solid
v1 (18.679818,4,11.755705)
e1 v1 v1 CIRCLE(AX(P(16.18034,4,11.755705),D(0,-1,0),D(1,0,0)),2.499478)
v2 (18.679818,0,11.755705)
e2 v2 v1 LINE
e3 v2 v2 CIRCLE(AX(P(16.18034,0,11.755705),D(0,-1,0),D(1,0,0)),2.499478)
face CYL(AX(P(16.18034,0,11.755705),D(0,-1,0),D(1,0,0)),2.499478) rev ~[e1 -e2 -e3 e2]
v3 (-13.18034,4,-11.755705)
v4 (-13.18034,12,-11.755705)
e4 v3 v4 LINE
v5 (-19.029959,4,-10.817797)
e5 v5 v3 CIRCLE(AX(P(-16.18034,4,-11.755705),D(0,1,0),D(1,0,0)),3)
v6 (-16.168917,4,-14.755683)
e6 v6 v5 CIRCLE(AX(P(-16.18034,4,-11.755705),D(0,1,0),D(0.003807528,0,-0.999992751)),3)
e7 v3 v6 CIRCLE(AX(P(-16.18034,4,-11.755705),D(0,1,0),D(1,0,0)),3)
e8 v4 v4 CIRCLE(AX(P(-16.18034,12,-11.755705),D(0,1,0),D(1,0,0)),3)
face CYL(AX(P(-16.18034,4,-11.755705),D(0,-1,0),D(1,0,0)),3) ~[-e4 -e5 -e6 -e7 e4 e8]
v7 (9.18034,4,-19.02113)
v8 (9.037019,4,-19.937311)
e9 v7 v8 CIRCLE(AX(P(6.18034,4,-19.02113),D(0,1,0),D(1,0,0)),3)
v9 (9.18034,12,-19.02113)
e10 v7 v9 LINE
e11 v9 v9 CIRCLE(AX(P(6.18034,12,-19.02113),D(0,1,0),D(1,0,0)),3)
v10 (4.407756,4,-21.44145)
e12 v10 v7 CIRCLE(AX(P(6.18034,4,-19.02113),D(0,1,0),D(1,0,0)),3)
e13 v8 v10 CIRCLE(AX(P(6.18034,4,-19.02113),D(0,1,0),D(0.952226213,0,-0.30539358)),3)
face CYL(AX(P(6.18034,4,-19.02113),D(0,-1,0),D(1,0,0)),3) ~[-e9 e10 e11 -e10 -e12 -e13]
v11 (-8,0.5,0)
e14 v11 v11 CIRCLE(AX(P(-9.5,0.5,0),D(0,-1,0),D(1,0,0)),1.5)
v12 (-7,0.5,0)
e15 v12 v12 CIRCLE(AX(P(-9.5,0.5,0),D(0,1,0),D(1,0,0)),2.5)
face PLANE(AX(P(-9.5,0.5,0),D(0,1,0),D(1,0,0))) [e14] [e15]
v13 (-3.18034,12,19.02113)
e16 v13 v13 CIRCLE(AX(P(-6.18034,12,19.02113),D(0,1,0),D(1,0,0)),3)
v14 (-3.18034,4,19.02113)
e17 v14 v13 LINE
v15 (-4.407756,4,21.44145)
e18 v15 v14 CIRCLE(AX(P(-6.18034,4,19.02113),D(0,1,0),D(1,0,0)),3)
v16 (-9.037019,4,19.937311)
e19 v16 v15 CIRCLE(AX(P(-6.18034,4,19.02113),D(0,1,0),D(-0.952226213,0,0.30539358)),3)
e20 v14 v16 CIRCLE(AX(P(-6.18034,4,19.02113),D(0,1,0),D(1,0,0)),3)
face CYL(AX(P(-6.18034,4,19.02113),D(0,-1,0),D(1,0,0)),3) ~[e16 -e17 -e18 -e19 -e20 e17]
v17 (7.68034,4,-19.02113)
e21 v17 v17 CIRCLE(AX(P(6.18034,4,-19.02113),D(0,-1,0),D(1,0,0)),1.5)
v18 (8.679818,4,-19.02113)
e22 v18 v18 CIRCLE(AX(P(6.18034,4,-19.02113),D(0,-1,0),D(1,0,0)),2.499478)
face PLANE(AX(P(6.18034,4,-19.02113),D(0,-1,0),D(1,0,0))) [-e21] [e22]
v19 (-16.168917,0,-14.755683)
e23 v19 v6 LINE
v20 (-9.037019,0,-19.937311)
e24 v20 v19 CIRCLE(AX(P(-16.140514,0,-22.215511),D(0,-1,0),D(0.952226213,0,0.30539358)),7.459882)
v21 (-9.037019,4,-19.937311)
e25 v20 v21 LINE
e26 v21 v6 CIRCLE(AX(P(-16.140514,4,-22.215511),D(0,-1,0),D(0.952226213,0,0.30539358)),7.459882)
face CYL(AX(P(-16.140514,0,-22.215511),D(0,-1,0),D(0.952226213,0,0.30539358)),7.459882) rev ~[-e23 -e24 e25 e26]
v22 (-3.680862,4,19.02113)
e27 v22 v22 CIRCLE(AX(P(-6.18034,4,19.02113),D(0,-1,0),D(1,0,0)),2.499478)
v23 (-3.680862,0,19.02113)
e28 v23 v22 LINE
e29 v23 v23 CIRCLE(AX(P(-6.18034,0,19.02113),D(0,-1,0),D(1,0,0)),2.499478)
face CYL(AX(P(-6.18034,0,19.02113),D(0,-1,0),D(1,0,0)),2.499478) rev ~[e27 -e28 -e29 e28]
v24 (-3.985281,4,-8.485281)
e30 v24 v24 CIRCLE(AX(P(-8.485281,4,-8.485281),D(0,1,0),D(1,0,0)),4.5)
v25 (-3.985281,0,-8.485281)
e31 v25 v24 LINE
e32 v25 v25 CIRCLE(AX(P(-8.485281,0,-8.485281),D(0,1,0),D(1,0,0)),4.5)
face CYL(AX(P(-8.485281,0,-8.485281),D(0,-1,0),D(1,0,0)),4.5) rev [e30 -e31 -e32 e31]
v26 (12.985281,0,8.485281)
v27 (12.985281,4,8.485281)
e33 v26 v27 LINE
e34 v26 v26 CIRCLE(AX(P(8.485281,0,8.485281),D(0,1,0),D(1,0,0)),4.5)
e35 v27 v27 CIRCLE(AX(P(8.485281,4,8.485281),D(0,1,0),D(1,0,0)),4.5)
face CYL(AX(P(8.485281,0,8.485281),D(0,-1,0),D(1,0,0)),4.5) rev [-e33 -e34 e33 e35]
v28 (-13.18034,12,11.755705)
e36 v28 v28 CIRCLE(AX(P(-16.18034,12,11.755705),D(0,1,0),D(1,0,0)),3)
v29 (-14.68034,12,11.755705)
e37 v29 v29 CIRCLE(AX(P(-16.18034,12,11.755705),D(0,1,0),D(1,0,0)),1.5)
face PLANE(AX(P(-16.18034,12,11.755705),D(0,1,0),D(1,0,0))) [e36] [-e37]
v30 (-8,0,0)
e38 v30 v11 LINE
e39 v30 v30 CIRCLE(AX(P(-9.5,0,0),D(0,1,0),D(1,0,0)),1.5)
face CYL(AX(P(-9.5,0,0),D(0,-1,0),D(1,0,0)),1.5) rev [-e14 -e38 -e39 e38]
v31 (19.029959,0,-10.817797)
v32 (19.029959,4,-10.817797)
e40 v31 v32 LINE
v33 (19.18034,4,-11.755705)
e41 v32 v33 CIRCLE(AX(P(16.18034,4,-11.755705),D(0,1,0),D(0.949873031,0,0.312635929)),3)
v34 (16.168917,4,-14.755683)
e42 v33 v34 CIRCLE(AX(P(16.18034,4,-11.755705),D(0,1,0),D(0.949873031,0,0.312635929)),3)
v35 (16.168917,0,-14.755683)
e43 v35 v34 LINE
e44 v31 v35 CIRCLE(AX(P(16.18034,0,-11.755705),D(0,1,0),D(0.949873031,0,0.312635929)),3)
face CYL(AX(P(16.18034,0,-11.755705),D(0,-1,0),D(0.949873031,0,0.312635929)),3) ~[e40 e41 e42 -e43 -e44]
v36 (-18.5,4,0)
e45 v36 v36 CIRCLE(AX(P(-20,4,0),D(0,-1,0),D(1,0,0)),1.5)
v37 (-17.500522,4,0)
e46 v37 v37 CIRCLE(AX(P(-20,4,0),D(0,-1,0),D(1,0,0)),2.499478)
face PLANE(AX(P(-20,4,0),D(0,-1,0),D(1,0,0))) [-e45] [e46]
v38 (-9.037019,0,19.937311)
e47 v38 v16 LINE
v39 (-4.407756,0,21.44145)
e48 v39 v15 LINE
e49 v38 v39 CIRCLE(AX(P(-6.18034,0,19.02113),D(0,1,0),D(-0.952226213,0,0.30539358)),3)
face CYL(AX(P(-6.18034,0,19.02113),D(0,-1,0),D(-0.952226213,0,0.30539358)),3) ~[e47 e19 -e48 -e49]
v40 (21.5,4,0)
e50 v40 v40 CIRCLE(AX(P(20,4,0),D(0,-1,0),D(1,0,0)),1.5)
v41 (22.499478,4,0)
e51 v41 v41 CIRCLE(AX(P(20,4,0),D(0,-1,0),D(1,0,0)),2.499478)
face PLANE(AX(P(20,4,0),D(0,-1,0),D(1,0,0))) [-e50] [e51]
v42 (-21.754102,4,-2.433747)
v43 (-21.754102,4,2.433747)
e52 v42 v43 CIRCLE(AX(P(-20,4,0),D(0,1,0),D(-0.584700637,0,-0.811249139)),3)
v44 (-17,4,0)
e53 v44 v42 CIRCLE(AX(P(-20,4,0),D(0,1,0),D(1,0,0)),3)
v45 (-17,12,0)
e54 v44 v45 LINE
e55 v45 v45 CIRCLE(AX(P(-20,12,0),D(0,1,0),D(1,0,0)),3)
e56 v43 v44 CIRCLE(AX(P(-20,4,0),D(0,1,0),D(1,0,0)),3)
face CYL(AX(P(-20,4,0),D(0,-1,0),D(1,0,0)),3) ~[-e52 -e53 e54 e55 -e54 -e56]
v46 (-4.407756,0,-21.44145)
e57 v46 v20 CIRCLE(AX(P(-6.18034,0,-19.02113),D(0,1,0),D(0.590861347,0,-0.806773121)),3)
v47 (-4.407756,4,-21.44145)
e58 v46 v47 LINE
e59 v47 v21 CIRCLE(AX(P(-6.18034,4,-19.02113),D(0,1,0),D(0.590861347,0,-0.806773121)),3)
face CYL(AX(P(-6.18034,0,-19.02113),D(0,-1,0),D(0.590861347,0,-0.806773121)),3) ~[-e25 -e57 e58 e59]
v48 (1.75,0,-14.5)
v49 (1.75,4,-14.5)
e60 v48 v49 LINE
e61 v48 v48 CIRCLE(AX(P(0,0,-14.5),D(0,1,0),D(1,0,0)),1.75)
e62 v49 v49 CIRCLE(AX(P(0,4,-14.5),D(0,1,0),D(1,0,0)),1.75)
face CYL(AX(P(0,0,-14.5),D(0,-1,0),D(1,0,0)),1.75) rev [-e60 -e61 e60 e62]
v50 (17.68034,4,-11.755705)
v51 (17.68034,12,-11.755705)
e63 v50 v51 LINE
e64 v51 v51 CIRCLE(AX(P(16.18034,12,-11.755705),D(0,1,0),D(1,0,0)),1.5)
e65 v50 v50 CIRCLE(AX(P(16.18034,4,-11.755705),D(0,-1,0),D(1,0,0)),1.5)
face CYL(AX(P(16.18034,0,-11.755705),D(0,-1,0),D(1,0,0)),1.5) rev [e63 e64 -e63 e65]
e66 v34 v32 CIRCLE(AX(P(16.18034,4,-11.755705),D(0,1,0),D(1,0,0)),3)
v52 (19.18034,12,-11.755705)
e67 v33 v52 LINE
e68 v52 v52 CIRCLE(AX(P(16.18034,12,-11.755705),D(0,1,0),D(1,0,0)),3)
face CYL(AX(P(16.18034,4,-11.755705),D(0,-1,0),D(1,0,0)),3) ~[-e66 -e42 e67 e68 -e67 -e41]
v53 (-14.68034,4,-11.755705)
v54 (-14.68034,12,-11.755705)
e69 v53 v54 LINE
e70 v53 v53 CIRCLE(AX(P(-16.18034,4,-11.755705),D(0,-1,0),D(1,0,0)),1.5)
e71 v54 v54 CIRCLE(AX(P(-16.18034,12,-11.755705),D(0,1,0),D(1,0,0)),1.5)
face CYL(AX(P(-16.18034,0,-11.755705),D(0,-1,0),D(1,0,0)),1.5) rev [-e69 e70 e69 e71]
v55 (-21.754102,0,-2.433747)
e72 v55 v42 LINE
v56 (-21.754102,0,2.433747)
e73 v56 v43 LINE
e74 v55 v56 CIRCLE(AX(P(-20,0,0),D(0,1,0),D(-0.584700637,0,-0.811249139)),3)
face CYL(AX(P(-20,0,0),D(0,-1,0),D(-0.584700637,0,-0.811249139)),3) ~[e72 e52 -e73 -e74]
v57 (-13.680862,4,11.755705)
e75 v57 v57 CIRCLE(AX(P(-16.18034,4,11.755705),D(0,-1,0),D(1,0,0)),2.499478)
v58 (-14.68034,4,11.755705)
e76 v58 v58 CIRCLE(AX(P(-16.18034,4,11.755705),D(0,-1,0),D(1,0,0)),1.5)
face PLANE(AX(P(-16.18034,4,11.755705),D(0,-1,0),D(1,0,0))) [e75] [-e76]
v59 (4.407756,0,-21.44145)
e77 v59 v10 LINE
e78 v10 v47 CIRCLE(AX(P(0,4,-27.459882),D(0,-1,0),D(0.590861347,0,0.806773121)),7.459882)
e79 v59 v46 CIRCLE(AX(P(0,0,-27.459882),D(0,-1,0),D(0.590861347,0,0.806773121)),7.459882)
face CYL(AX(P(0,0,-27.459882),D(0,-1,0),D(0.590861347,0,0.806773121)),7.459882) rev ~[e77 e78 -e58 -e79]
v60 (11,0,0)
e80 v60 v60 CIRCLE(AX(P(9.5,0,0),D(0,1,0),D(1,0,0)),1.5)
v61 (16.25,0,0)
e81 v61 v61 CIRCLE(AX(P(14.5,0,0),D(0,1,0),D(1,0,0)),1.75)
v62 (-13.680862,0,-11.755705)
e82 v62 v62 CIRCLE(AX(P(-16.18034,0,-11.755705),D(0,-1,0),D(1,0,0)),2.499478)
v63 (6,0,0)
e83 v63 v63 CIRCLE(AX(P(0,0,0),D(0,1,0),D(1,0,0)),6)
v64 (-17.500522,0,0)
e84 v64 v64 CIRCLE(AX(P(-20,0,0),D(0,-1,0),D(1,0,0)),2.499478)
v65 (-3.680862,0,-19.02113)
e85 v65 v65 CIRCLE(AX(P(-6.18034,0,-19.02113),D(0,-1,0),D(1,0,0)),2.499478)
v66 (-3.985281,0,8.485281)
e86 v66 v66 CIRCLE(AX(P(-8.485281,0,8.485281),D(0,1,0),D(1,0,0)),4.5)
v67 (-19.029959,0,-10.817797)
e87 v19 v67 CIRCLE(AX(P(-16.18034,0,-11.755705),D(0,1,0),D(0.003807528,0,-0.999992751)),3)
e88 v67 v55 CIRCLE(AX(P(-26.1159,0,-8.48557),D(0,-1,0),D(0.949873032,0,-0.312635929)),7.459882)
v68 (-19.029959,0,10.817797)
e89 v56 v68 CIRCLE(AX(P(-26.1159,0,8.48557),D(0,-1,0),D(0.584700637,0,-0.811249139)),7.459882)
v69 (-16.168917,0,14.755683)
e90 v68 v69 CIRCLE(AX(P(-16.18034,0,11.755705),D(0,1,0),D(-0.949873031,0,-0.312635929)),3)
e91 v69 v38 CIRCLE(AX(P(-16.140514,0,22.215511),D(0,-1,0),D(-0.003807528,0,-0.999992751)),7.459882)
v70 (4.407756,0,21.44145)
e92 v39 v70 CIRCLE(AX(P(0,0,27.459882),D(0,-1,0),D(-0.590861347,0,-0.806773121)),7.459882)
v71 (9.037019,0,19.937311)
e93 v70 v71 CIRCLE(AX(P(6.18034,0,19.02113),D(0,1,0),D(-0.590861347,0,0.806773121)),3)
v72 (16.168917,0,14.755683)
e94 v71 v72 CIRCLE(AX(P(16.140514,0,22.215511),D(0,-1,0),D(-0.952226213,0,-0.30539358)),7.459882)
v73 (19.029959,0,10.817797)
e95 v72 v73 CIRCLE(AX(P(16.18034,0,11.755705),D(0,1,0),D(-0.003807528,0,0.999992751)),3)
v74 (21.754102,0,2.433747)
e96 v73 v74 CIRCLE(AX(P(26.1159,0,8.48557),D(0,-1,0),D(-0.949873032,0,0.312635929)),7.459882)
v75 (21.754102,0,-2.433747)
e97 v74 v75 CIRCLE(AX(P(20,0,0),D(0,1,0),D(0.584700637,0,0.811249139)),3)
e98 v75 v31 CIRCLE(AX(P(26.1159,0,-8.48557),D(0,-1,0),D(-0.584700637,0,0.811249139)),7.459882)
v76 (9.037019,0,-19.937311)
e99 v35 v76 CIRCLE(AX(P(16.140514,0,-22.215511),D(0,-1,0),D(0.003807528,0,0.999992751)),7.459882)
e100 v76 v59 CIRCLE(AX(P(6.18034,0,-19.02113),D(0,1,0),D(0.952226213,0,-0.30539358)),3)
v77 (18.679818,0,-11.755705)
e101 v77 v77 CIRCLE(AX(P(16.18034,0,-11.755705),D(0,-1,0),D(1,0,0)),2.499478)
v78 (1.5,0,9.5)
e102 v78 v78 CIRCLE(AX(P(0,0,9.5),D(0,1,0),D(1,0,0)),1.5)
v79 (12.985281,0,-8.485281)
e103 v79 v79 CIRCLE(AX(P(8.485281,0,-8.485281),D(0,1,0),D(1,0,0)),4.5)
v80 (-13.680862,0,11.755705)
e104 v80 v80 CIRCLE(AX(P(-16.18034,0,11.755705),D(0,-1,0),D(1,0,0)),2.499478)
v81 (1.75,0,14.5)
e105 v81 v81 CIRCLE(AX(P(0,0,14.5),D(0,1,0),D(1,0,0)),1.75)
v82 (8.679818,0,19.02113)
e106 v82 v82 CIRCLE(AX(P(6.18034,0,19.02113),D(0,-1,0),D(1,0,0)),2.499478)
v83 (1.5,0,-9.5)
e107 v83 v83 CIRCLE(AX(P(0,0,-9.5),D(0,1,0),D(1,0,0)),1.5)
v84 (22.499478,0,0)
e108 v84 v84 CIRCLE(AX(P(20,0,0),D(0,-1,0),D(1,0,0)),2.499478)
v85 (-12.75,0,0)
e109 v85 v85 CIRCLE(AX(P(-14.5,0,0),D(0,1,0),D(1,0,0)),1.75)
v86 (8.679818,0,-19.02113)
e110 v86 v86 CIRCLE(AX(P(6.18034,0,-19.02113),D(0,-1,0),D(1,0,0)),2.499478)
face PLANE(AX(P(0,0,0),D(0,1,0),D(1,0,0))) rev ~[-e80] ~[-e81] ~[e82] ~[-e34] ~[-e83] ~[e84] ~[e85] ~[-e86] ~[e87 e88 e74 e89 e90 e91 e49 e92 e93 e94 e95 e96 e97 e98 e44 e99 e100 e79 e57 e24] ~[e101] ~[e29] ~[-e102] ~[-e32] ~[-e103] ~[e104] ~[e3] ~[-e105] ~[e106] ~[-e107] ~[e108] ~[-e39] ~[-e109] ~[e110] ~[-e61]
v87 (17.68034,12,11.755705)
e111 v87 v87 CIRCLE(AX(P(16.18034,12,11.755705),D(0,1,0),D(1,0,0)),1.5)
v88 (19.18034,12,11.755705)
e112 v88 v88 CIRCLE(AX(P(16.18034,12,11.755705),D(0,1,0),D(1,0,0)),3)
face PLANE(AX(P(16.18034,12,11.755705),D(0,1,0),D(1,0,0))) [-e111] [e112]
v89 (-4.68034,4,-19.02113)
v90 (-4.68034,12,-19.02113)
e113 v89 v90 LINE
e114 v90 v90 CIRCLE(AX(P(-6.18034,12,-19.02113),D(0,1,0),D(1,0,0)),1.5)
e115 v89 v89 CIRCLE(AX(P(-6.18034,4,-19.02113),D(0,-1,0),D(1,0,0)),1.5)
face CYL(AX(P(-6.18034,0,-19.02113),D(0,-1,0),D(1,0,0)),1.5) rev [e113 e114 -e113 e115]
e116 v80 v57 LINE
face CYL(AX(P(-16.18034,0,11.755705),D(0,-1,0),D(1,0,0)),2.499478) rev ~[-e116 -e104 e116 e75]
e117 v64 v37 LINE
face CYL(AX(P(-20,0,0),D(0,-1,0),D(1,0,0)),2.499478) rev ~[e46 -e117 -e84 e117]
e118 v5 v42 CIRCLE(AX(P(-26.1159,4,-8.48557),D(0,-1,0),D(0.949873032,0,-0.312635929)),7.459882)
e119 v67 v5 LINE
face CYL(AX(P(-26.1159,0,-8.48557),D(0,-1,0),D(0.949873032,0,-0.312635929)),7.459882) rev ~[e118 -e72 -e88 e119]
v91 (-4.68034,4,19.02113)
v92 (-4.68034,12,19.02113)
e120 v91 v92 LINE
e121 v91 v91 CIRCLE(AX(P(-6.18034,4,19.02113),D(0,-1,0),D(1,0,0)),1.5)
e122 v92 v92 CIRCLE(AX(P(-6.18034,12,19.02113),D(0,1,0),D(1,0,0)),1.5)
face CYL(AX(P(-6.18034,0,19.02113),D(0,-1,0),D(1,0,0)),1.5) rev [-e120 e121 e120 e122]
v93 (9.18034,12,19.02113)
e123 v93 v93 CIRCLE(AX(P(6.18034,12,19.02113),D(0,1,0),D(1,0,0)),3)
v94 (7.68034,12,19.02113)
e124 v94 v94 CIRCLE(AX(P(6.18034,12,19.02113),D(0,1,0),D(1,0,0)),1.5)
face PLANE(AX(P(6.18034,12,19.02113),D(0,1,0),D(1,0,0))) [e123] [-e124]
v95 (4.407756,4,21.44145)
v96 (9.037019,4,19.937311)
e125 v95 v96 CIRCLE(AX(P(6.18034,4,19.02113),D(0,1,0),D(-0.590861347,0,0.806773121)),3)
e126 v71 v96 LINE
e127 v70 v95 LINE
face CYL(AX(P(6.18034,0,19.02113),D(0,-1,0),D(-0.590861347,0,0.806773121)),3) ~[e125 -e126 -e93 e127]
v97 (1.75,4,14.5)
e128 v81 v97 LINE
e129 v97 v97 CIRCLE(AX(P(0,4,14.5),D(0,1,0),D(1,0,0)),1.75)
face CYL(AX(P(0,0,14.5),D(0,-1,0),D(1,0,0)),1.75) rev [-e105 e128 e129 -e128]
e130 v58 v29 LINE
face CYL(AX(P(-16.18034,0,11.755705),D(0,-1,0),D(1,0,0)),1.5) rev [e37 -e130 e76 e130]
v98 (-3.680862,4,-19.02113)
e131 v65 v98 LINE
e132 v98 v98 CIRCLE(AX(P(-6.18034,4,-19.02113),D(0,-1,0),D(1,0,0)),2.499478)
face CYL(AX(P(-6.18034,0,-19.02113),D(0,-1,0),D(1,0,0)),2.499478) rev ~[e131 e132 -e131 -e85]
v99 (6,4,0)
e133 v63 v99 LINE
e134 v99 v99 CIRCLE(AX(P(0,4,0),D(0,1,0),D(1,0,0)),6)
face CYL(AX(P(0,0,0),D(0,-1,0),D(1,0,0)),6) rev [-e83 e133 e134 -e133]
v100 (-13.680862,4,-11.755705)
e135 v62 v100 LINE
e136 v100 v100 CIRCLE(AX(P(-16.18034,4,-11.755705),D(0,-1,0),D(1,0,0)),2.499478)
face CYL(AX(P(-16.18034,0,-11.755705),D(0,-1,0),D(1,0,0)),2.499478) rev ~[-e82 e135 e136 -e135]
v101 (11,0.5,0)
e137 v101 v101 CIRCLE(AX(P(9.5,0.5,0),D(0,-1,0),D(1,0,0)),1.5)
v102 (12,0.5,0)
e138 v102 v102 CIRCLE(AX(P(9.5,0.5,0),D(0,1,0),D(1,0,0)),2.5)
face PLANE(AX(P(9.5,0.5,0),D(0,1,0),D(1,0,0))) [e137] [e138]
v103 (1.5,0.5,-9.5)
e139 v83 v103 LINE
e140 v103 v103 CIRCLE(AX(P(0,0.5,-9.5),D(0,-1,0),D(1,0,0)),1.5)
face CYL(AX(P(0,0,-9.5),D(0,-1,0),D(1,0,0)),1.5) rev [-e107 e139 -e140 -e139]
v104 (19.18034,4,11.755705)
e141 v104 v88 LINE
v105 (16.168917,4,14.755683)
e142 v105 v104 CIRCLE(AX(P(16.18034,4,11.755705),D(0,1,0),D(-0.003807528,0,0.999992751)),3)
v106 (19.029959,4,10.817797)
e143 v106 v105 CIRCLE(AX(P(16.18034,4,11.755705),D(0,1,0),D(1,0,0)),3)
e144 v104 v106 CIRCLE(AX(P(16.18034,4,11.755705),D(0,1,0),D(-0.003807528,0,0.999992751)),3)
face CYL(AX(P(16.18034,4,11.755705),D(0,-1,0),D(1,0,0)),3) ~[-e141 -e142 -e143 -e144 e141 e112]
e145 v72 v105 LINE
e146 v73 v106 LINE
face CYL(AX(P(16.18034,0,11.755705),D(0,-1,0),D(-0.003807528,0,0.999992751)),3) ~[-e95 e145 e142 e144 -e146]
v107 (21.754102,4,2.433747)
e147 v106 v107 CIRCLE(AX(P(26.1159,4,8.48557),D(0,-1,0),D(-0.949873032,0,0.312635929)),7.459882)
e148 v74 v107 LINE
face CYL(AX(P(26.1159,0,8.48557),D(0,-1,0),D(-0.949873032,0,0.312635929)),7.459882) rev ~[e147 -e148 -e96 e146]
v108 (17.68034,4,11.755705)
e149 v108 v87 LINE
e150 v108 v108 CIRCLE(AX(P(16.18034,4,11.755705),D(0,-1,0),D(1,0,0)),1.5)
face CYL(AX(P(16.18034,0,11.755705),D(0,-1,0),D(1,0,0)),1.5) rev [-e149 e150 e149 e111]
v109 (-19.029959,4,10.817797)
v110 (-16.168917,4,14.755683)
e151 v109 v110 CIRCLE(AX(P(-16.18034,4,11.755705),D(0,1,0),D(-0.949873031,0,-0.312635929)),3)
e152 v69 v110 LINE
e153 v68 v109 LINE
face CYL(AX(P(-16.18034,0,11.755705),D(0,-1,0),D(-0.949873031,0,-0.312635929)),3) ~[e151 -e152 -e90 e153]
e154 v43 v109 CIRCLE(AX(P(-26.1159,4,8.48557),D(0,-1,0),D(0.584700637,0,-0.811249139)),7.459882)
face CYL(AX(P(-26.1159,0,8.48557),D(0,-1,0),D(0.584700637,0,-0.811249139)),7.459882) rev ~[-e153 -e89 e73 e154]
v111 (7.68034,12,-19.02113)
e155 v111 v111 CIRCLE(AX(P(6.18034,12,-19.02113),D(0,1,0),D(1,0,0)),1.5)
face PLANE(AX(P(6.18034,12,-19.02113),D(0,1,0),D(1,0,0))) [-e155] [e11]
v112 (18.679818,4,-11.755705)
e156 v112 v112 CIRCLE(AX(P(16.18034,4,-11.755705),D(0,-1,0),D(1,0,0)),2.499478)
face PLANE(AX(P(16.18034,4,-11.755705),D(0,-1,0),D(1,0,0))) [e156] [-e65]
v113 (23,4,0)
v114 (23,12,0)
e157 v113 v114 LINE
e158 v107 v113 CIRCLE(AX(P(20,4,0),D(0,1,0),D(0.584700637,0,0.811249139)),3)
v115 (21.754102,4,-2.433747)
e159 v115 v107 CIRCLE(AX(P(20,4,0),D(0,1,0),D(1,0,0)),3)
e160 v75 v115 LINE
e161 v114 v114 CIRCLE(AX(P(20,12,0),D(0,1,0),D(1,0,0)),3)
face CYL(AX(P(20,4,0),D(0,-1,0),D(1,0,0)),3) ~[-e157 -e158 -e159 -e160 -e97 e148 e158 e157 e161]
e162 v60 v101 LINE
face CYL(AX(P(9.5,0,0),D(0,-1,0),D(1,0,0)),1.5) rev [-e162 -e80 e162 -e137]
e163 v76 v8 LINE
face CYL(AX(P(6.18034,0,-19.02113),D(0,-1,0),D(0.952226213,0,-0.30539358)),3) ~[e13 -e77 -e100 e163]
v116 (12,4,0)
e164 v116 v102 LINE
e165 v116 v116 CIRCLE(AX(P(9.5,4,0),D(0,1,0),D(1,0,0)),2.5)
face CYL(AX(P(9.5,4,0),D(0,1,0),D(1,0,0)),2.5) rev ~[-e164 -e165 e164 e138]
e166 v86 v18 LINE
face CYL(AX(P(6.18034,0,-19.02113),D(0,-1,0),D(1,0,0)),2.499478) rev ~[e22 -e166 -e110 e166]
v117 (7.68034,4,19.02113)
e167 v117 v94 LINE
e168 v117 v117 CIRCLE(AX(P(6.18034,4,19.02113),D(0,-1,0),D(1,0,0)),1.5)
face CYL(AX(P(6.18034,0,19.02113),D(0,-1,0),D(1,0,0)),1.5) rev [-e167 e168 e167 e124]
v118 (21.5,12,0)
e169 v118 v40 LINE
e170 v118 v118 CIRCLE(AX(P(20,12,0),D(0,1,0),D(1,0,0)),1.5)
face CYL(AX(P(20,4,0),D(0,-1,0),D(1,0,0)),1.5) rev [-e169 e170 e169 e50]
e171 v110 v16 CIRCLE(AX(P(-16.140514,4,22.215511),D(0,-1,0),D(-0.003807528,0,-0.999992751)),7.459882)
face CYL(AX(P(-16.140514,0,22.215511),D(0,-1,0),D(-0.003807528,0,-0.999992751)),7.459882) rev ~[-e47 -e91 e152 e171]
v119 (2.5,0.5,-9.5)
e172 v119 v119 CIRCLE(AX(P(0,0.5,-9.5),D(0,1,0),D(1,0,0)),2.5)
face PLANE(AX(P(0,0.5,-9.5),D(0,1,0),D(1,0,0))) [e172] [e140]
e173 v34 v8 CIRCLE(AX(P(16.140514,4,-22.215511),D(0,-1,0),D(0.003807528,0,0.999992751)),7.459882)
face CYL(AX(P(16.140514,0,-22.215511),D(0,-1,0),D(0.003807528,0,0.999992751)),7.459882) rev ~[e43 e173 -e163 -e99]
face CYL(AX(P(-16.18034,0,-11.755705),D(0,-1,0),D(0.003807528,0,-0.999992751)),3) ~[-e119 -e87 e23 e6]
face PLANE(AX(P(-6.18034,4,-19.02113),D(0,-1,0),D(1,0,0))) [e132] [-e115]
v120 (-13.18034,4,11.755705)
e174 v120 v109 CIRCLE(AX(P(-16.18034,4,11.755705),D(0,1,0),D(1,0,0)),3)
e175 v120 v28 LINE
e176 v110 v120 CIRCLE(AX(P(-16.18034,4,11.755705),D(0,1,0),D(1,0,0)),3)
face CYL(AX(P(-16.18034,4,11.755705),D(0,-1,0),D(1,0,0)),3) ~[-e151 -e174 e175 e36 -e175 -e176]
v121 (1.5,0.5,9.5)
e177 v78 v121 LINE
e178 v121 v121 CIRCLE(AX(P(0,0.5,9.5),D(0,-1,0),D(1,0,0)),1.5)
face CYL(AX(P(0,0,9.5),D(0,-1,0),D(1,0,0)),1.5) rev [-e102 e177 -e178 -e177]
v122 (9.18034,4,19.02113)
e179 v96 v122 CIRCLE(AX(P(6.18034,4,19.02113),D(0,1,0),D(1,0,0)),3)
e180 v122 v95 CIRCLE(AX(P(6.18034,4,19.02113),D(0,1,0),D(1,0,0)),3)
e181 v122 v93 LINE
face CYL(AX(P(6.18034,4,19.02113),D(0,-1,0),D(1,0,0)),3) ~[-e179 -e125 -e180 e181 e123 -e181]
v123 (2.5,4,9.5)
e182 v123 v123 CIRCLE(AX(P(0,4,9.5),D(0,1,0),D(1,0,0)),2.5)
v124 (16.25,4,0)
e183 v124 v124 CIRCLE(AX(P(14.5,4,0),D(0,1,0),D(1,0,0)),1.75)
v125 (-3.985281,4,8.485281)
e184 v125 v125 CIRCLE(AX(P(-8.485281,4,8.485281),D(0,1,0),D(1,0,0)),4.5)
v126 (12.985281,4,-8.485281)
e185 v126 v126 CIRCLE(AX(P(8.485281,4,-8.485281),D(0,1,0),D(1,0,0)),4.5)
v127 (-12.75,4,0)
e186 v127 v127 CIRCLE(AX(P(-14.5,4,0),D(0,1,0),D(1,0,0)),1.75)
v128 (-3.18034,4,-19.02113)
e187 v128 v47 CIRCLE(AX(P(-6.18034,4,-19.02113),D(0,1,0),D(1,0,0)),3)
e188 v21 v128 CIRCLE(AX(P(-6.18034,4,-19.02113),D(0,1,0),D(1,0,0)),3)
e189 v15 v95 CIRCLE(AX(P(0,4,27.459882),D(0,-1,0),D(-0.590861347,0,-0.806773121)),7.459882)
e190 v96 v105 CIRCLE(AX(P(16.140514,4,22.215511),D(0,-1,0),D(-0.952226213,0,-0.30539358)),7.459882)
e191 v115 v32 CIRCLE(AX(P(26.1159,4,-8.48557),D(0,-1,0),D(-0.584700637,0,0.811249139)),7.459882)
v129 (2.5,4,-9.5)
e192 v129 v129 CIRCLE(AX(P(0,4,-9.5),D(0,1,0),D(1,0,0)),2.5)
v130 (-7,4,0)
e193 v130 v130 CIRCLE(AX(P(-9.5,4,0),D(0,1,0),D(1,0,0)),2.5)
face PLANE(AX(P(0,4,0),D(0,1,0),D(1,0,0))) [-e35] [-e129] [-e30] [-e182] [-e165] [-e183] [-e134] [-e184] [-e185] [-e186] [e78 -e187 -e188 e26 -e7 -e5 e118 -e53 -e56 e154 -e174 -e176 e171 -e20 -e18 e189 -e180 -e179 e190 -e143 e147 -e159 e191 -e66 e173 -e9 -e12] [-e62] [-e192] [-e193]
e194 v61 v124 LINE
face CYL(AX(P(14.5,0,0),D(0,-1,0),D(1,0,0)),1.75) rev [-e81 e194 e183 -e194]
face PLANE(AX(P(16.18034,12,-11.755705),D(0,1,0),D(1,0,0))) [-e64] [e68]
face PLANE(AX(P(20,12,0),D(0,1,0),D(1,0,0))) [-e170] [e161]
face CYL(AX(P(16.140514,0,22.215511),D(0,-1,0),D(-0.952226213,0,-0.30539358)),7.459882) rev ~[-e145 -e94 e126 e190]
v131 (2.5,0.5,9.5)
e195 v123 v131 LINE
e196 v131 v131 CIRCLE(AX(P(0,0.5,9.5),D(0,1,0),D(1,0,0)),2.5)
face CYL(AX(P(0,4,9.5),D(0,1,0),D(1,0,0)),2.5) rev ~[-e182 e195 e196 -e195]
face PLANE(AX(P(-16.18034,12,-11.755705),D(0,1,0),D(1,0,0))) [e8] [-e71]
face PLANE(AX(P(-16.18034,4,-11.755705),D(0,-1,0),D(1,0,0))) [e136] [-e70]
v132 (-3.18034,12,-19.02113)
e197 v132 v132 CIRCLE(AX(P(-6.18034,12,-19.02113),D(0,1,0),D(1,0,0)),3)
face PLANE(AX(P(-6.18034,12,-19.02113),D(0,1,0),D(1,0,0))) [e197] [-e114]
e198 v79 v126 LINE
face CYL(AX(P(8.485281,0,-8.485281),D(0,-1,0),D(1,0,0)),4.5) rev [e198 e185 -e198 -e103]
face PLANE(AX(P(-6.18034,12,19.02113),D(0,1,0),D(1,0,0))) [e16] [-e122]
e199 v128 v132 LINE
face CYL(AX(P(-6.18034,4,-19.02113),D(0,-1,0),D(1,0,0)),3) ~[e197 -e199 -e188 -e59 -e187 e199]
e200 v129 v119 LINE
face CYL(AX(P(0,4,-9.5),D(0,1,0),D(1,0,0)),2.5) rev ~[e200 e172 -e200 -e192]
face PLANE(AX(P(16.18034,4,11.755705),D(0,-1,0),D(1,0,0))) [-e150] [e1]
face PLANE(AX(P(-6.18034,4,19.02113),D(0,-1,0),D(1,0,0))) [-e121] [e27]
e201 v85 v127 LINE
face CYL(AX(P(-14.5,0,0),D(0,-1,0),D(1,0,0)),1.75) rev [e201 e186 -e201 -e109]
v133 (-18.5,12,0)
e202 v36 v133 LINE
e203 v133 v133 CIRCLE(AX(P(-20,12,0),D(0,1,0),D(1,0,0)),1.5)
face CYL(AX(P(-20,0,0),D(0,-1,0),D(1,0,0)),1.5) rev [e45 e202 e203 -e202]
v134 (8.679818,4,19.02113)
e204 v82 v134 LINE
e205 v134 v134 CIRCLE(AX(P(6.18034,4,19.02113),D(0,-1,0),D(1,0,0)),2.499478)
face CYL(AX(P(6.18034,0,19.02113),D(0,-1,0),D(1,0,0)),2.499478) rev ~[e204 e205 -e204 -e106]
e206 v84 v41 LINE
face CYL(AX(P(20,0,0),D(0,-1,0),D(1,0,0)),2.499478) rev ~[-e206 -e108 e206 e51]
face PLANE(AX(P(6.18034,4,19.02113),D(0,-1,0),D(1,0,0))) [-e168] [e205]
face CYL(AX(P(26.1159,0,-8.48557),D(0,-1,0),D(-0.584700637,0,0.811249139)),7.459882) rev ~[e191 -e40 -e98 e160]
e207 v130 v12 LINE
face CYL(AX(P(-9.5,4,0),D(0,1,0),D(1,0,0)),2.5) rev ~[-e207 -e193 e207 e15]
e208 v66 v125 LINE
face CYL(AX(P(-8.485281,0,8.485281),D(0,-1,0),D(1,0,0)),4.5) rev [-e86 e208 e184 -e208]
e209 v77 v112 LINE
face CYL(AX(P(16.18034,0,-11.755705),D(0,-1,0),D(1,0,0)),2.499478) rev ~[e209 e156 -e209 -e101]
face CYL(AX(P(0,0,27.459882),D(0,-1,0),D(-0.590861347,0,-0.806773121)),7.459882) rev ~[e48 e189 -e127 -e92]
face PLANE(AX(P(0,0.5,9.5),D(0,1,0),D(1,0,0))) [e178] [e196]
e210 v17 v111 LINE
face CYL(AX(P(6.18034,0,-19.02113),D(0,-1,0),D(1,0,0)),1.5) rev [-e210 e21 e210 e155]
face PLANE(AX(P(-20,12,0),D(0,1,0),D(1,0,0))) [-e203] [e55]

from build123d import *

# Parameters (mm, degrees)
SKETCH_1_R          = 1.5
SKETCH_1_R_2        = 6
SKETCH_1_R_3        = 4.5
SKETCH_1_R_4        = 1.75
EXTRUDE_1_DEPTH     = 4
SKETCH_2_R          = 2.5
CUT_EXTRUDE_1_DEPTH = 3.5
SKETCH_3_R          = 3
SKETCH_3_R_2        = 1.5
EXTRUDE_2_DEPTH     = 8
SKETCH_4_R          = 2.499477696
CUT_EXTRUDE_2_DEPTH = 4


with BuildPart() as part:
    # 草图1 → 凸台-拉伸1 (new body)
    with BuildSketch(Plane(origin=(0, 0, 0), x_dir=(1, 0, 0), z_dir=(0, 1, 0))):
        with BuildLine():
            ThreePointArc((21.75410191, -2.433747417), (23, 0), (21.75410191, 2.433747417))
            ThreePointArc((21.75410191, 2.433747417), (19.021130326, 6.180339887), (19.029958982, 10.81779726))
            ThreePointArc((19.029958982, 10.81779726), (18.607390871, 13.519060803), (16.168917304, 14.7556833))
            ThreePointArc((16.168917304, 14.7556833), (11.755705046, 16.180339887), (9.037018527, 19.937311066))
            ThreePointArc((9.037018527, 19.937311066), (7.107390871, 21.874299875), (4.407755848, 21.44144969))
            ThreePointArc((4.407755848, 21.44144969), (0, 20), (-4.407755848, 21.44144969))
            ThreePointArc((-4.407755848, 21.44144969), (-7.107390871, 21.874299875), (-9.037018527, 19.937311066))
            ThreePointArc((-9.037018527, 19.937311066), (-11.755705046, 16.180339887), (-16.168917304, 14.7556833))
            ThreePointArc((-16.168917304, 14.7556833), (-18.607390871, 13.519060803), (-19.029958982, 10.81779726))
            ThreePointArc((-19.029958982, 10.81779726), (-19.021130326, 6.180339887), (-21.75410191, 2.433747417))
            ThreePointArc((-21.75410191, 2.433747417), (-23, 0), (-21.75410191, -2.433747417))
            ThreePointArc((-21.75410191, -2.433747417), (-19.021130326, -6.180339887), (-19.029958982, -10.81779726))
            ThreePointArc((-19.029958982, -10.81779726), (-18.607390871, -13.519060803), (-16.168917304, -14.7556833))
            ThreePointArc((-16.168917304, -14.7556833), (-11.755705046, -16.180339887), (-9.037018527, -19.937311066))
            ThreePointArc((-9.037018527, -19.937311066), (-7.107390871, -21.874299875), (-4.407755848, -21.44144969))
            ThreePointArc((-4.407755848, -21.44144969), (0, -20), (4.407755848, -21.44144969))
            ThreePointArc((4.407755848, -21.44144969), (7.107390871, -21.874299875), (9.037018527, -19.937311066))
            ThreePointArc((9.037018527, -19.937311066), (11.755705046, -16.180339887), (16.168917304, -14.7556833))
            ThreePointArc((16.168917304, -14.7556833), (18.607390871, -13.519060803), (19.029958982, -10.81779726))
            ThreePointArc((19.029958982, -10.81779726), (19.021130326, -6.180339887), (21.75410191, -2.433747417))
        make_face()
        with Locations((20, 0)):
            Circle(SKETCH_1_R, mode=Mode.SUBTRACT)
        with Locations((16.180339887, -11.755705046)):
            Circle(SKETCH_1_R, mode=Mode.SUBTRACT)
        with Locations((6.180339887, -19.021130326)):
            Circle(SKETCH_1_R, mode=Mode.SUBTRACT)
        with Locations((-6.180339887, -19.021130326)):
            Circle(SKETCH_1_R, mode=Mode.SUBTRACT)
        with Locations((-16.180339887, -11.755705046)):
            Circle(SKETCH_1_R, mode=Mode.SUBTRACT)
        with Locations((-20, 0)):
            Circle(SKETCH_1_R, mode=Mode.SUBTRACT)
        with Locations((-16.180339887, 11.755705046)):
            Circle(SKETCH_1_R, mode=Mode.SUBTRACT)
        with Locations((-6.180339887, 19.021130326)):
            Circle(SKETCH_1_R, mode=Mode.SUBTRACT)
        with Locations((6.180339887, 19.021130326)):
            Circle(SKETCH_1_R, mode=Mode.SUBTRACT)
        with Locations((16.180339887, 11.755705046)):
            Circle(SKETCH_1_R, mode=Mode.SUBTRACT)
        with Locations((9.5, 0)):
            Circle(SKETCH_1_R, mode=Mode.SUBTRACT)
        with Locations((0, -9.5)):
            Circle(SKETCH_1_R, mode=Mode.SUBTRACT)
        with Locations((-9.5, 0)):
            Circle(SKETCH_1_R, mode=Mode.SUBTRACT)
        with Locations((0, 9.5)):
            Circle(SKETCH_1_R, mode=Mode.SUBTRACT)
        Circle(SKETCH_1_R_2, mode=Mode.SUBTRACT)
        with Locations((8.485281374, 8.485281374)):
            Circle(SKETCH_1_R_3, mode=Mode.SUBTRACT)
        with Locations((8.485281374, -8.485281374)):
            Circle(SKETCH_1_R_3, mode=Mode.SUBTRACT)
        with Locations((-8.485281374, -8.485281374)):
            Circle(SKETCH_1_R_3, mode=Mode.SUBTRACT)
        with Locations((-8.485281374, 8.485281374)):
            Circle(SKETCH_1_R_3, mode=Mode.SUBTRACT)
        with Locations((14.5, 0)):
            Circle(SKETCH_1_R_4, mode=Mode.SUBTRACT)
        with Locations((0, -14.5)):
            Circle(SKETCH_1_R_4, mode=Mode.SUBTRACT)
        with Locations((-14.5, 0)):
            Circle(SKETCH_1_R_4, mode=Mode.SUBTRACT)
        with Locations((0, 14.5)):
            Circle(SKETCH_1_R_4, mode=Mode.SUBTRACT)
    extrude(amount=EXTRUDE_1_DEPTH)

    # 草图2 → 切除-拉伸1 (cut)
    with BuildSketch(Plane(origin=(0, 4, 0), x_dir=(1, 0, 0), z_dir=(0, 1, 0))):
        with Locations((9.5, 0)):
            Circle(SKETCH_2_R)
        with Locations((0, -9.5)):
            Circle(SKETCH_2_R)
        with Locations((-9.5, 0)):
            Circle(SKETCH_2_R)
        with Locations((0, 9.5)):
            Circle(SKETCH_2_R)
    extrude(amount=-CUT_EXTRUDE_1_DEPTH, mode=Mode.SUBTRACT)

    # 草图3 → 凸台-拉伸2 (add)
    with BuildSketch(Plane(origin=(0, 4, 0), x_dir=(1, 0, 0), z_dir=(0, 1, 0))):
        with Locations((20, 0)):
            Circle(SKETCH_3_R)
        with Locations((20, 0)):
            Circle(SKETCH_3_R_2, mode=Mode.SUBTRACT)
        with Locations((16.180339887, -11.755705046)):
            Circle(SKETCH_3_R)
        with Locations((16.180339887, -11.755705046)):
            Circle(SKETCH_3_R_2, mode=Mode.SUBTRACT)
        with Locations((6.180339887, -19.021130326)):
            Circle(SKETCH_3_R)
        with Locations((6.180339887, -19.021130326)):
            Circle(SKETCH_3_R_2, mode=Mode.SUBTRACT)
        with Locations((-6.180339887, -19.021130326)):
            Circle(SKETCH_3_R)
        with Locations((-6.180339887, -19.021130326)):
            Circle(SKETCH_3_R_2, mode=Mode.SUBTRACT)
        with Locations((-16.180339887, -11.755705046)):
            Circle(SKETCH_3_R)
        with Locations((-16.180339887, -11.755705046)):
            Circle(SKETCH_3_R_2, mode=Mode.SUBTRACT)
        with Locations((-20, 0)):
            Circle(SKETCH_3_R)
        with Locations((-20, 0)):
            Circle(SKETCH_3_R_2, mode=Mode.SUBTRACT)
        with Locations((-16.180339887, 11.755705046)):
            Circle(SKETCH_3_R)
        with Locations((-16.180339887, 11.755705046)):
            Circle(SKETCH_3_R_2, mode=Mode.SUBTRACT)
        with Locations((-6.180339887, 19.021130326)):
            Circle(SKETCH_3_R)
        with Locations((-6.180339887, 19.021130326)):
            Circle(SKETCH_3_R_2, mode=Mode.SUBTRACT)
        with Locations((6.180339887, 19.021130326)):
            Circle(SKETCH_3_R)
        with Locations((6.180339887, 19.021130326)):
            Circle(SKETCH_3_R_2, mode=Mode.SUBTRACT)
        with Locations((16.180339887, 11.755705046)):
            Circle(SKETCH_3_R)
        with Locations((16.180339887, 11.755705046)):
            Circle(SKETCH_3_R_2, mode=Mode.SUBTRACT)
    extrude(amount=EXTRUDE_2_DEPTH)

    # 草图4 → 切除-拉伸2 (cut)
    with BuildSketch(Plane.XZ):
        with Locations((20, 0)):
            Circle(SKETCH_4_R)
        with Locations((16.180339887, -11.755705046)):
            Circle(SKETCH_4_R)
        with Locations((6.180339887, -19.021130326)):
            Circle(SKETCH_4_R)
        with Locations((-6.180339887, -19.021130326)):
            Circle(SKETCH_4_R)
        with Locations((-16.180339887, -11.755705046)):
            Circle(SKETCH_4_R)
        with Locations((-20, 0)):
            Circle(SKETCH_4_R)
        with Locations((-16.180339887, 11.755705046)):
            Circle(SKETCH_4_R)
        with Locations((-6.180339887, 19.021130326)):
            Circle(SKETCH_4_R)
        with Locations((6.180339887, 19.021130326)):
            Circle(SKETCH_4_R)
        with Locations((16.180339887, 11.755705046)):
            Circle(SKETCH_4_R)
    extrude(amount=-CUT_EXTRUDE_2_DEPTH, mode=Mode.SUBTRACT)


solid = part.part
